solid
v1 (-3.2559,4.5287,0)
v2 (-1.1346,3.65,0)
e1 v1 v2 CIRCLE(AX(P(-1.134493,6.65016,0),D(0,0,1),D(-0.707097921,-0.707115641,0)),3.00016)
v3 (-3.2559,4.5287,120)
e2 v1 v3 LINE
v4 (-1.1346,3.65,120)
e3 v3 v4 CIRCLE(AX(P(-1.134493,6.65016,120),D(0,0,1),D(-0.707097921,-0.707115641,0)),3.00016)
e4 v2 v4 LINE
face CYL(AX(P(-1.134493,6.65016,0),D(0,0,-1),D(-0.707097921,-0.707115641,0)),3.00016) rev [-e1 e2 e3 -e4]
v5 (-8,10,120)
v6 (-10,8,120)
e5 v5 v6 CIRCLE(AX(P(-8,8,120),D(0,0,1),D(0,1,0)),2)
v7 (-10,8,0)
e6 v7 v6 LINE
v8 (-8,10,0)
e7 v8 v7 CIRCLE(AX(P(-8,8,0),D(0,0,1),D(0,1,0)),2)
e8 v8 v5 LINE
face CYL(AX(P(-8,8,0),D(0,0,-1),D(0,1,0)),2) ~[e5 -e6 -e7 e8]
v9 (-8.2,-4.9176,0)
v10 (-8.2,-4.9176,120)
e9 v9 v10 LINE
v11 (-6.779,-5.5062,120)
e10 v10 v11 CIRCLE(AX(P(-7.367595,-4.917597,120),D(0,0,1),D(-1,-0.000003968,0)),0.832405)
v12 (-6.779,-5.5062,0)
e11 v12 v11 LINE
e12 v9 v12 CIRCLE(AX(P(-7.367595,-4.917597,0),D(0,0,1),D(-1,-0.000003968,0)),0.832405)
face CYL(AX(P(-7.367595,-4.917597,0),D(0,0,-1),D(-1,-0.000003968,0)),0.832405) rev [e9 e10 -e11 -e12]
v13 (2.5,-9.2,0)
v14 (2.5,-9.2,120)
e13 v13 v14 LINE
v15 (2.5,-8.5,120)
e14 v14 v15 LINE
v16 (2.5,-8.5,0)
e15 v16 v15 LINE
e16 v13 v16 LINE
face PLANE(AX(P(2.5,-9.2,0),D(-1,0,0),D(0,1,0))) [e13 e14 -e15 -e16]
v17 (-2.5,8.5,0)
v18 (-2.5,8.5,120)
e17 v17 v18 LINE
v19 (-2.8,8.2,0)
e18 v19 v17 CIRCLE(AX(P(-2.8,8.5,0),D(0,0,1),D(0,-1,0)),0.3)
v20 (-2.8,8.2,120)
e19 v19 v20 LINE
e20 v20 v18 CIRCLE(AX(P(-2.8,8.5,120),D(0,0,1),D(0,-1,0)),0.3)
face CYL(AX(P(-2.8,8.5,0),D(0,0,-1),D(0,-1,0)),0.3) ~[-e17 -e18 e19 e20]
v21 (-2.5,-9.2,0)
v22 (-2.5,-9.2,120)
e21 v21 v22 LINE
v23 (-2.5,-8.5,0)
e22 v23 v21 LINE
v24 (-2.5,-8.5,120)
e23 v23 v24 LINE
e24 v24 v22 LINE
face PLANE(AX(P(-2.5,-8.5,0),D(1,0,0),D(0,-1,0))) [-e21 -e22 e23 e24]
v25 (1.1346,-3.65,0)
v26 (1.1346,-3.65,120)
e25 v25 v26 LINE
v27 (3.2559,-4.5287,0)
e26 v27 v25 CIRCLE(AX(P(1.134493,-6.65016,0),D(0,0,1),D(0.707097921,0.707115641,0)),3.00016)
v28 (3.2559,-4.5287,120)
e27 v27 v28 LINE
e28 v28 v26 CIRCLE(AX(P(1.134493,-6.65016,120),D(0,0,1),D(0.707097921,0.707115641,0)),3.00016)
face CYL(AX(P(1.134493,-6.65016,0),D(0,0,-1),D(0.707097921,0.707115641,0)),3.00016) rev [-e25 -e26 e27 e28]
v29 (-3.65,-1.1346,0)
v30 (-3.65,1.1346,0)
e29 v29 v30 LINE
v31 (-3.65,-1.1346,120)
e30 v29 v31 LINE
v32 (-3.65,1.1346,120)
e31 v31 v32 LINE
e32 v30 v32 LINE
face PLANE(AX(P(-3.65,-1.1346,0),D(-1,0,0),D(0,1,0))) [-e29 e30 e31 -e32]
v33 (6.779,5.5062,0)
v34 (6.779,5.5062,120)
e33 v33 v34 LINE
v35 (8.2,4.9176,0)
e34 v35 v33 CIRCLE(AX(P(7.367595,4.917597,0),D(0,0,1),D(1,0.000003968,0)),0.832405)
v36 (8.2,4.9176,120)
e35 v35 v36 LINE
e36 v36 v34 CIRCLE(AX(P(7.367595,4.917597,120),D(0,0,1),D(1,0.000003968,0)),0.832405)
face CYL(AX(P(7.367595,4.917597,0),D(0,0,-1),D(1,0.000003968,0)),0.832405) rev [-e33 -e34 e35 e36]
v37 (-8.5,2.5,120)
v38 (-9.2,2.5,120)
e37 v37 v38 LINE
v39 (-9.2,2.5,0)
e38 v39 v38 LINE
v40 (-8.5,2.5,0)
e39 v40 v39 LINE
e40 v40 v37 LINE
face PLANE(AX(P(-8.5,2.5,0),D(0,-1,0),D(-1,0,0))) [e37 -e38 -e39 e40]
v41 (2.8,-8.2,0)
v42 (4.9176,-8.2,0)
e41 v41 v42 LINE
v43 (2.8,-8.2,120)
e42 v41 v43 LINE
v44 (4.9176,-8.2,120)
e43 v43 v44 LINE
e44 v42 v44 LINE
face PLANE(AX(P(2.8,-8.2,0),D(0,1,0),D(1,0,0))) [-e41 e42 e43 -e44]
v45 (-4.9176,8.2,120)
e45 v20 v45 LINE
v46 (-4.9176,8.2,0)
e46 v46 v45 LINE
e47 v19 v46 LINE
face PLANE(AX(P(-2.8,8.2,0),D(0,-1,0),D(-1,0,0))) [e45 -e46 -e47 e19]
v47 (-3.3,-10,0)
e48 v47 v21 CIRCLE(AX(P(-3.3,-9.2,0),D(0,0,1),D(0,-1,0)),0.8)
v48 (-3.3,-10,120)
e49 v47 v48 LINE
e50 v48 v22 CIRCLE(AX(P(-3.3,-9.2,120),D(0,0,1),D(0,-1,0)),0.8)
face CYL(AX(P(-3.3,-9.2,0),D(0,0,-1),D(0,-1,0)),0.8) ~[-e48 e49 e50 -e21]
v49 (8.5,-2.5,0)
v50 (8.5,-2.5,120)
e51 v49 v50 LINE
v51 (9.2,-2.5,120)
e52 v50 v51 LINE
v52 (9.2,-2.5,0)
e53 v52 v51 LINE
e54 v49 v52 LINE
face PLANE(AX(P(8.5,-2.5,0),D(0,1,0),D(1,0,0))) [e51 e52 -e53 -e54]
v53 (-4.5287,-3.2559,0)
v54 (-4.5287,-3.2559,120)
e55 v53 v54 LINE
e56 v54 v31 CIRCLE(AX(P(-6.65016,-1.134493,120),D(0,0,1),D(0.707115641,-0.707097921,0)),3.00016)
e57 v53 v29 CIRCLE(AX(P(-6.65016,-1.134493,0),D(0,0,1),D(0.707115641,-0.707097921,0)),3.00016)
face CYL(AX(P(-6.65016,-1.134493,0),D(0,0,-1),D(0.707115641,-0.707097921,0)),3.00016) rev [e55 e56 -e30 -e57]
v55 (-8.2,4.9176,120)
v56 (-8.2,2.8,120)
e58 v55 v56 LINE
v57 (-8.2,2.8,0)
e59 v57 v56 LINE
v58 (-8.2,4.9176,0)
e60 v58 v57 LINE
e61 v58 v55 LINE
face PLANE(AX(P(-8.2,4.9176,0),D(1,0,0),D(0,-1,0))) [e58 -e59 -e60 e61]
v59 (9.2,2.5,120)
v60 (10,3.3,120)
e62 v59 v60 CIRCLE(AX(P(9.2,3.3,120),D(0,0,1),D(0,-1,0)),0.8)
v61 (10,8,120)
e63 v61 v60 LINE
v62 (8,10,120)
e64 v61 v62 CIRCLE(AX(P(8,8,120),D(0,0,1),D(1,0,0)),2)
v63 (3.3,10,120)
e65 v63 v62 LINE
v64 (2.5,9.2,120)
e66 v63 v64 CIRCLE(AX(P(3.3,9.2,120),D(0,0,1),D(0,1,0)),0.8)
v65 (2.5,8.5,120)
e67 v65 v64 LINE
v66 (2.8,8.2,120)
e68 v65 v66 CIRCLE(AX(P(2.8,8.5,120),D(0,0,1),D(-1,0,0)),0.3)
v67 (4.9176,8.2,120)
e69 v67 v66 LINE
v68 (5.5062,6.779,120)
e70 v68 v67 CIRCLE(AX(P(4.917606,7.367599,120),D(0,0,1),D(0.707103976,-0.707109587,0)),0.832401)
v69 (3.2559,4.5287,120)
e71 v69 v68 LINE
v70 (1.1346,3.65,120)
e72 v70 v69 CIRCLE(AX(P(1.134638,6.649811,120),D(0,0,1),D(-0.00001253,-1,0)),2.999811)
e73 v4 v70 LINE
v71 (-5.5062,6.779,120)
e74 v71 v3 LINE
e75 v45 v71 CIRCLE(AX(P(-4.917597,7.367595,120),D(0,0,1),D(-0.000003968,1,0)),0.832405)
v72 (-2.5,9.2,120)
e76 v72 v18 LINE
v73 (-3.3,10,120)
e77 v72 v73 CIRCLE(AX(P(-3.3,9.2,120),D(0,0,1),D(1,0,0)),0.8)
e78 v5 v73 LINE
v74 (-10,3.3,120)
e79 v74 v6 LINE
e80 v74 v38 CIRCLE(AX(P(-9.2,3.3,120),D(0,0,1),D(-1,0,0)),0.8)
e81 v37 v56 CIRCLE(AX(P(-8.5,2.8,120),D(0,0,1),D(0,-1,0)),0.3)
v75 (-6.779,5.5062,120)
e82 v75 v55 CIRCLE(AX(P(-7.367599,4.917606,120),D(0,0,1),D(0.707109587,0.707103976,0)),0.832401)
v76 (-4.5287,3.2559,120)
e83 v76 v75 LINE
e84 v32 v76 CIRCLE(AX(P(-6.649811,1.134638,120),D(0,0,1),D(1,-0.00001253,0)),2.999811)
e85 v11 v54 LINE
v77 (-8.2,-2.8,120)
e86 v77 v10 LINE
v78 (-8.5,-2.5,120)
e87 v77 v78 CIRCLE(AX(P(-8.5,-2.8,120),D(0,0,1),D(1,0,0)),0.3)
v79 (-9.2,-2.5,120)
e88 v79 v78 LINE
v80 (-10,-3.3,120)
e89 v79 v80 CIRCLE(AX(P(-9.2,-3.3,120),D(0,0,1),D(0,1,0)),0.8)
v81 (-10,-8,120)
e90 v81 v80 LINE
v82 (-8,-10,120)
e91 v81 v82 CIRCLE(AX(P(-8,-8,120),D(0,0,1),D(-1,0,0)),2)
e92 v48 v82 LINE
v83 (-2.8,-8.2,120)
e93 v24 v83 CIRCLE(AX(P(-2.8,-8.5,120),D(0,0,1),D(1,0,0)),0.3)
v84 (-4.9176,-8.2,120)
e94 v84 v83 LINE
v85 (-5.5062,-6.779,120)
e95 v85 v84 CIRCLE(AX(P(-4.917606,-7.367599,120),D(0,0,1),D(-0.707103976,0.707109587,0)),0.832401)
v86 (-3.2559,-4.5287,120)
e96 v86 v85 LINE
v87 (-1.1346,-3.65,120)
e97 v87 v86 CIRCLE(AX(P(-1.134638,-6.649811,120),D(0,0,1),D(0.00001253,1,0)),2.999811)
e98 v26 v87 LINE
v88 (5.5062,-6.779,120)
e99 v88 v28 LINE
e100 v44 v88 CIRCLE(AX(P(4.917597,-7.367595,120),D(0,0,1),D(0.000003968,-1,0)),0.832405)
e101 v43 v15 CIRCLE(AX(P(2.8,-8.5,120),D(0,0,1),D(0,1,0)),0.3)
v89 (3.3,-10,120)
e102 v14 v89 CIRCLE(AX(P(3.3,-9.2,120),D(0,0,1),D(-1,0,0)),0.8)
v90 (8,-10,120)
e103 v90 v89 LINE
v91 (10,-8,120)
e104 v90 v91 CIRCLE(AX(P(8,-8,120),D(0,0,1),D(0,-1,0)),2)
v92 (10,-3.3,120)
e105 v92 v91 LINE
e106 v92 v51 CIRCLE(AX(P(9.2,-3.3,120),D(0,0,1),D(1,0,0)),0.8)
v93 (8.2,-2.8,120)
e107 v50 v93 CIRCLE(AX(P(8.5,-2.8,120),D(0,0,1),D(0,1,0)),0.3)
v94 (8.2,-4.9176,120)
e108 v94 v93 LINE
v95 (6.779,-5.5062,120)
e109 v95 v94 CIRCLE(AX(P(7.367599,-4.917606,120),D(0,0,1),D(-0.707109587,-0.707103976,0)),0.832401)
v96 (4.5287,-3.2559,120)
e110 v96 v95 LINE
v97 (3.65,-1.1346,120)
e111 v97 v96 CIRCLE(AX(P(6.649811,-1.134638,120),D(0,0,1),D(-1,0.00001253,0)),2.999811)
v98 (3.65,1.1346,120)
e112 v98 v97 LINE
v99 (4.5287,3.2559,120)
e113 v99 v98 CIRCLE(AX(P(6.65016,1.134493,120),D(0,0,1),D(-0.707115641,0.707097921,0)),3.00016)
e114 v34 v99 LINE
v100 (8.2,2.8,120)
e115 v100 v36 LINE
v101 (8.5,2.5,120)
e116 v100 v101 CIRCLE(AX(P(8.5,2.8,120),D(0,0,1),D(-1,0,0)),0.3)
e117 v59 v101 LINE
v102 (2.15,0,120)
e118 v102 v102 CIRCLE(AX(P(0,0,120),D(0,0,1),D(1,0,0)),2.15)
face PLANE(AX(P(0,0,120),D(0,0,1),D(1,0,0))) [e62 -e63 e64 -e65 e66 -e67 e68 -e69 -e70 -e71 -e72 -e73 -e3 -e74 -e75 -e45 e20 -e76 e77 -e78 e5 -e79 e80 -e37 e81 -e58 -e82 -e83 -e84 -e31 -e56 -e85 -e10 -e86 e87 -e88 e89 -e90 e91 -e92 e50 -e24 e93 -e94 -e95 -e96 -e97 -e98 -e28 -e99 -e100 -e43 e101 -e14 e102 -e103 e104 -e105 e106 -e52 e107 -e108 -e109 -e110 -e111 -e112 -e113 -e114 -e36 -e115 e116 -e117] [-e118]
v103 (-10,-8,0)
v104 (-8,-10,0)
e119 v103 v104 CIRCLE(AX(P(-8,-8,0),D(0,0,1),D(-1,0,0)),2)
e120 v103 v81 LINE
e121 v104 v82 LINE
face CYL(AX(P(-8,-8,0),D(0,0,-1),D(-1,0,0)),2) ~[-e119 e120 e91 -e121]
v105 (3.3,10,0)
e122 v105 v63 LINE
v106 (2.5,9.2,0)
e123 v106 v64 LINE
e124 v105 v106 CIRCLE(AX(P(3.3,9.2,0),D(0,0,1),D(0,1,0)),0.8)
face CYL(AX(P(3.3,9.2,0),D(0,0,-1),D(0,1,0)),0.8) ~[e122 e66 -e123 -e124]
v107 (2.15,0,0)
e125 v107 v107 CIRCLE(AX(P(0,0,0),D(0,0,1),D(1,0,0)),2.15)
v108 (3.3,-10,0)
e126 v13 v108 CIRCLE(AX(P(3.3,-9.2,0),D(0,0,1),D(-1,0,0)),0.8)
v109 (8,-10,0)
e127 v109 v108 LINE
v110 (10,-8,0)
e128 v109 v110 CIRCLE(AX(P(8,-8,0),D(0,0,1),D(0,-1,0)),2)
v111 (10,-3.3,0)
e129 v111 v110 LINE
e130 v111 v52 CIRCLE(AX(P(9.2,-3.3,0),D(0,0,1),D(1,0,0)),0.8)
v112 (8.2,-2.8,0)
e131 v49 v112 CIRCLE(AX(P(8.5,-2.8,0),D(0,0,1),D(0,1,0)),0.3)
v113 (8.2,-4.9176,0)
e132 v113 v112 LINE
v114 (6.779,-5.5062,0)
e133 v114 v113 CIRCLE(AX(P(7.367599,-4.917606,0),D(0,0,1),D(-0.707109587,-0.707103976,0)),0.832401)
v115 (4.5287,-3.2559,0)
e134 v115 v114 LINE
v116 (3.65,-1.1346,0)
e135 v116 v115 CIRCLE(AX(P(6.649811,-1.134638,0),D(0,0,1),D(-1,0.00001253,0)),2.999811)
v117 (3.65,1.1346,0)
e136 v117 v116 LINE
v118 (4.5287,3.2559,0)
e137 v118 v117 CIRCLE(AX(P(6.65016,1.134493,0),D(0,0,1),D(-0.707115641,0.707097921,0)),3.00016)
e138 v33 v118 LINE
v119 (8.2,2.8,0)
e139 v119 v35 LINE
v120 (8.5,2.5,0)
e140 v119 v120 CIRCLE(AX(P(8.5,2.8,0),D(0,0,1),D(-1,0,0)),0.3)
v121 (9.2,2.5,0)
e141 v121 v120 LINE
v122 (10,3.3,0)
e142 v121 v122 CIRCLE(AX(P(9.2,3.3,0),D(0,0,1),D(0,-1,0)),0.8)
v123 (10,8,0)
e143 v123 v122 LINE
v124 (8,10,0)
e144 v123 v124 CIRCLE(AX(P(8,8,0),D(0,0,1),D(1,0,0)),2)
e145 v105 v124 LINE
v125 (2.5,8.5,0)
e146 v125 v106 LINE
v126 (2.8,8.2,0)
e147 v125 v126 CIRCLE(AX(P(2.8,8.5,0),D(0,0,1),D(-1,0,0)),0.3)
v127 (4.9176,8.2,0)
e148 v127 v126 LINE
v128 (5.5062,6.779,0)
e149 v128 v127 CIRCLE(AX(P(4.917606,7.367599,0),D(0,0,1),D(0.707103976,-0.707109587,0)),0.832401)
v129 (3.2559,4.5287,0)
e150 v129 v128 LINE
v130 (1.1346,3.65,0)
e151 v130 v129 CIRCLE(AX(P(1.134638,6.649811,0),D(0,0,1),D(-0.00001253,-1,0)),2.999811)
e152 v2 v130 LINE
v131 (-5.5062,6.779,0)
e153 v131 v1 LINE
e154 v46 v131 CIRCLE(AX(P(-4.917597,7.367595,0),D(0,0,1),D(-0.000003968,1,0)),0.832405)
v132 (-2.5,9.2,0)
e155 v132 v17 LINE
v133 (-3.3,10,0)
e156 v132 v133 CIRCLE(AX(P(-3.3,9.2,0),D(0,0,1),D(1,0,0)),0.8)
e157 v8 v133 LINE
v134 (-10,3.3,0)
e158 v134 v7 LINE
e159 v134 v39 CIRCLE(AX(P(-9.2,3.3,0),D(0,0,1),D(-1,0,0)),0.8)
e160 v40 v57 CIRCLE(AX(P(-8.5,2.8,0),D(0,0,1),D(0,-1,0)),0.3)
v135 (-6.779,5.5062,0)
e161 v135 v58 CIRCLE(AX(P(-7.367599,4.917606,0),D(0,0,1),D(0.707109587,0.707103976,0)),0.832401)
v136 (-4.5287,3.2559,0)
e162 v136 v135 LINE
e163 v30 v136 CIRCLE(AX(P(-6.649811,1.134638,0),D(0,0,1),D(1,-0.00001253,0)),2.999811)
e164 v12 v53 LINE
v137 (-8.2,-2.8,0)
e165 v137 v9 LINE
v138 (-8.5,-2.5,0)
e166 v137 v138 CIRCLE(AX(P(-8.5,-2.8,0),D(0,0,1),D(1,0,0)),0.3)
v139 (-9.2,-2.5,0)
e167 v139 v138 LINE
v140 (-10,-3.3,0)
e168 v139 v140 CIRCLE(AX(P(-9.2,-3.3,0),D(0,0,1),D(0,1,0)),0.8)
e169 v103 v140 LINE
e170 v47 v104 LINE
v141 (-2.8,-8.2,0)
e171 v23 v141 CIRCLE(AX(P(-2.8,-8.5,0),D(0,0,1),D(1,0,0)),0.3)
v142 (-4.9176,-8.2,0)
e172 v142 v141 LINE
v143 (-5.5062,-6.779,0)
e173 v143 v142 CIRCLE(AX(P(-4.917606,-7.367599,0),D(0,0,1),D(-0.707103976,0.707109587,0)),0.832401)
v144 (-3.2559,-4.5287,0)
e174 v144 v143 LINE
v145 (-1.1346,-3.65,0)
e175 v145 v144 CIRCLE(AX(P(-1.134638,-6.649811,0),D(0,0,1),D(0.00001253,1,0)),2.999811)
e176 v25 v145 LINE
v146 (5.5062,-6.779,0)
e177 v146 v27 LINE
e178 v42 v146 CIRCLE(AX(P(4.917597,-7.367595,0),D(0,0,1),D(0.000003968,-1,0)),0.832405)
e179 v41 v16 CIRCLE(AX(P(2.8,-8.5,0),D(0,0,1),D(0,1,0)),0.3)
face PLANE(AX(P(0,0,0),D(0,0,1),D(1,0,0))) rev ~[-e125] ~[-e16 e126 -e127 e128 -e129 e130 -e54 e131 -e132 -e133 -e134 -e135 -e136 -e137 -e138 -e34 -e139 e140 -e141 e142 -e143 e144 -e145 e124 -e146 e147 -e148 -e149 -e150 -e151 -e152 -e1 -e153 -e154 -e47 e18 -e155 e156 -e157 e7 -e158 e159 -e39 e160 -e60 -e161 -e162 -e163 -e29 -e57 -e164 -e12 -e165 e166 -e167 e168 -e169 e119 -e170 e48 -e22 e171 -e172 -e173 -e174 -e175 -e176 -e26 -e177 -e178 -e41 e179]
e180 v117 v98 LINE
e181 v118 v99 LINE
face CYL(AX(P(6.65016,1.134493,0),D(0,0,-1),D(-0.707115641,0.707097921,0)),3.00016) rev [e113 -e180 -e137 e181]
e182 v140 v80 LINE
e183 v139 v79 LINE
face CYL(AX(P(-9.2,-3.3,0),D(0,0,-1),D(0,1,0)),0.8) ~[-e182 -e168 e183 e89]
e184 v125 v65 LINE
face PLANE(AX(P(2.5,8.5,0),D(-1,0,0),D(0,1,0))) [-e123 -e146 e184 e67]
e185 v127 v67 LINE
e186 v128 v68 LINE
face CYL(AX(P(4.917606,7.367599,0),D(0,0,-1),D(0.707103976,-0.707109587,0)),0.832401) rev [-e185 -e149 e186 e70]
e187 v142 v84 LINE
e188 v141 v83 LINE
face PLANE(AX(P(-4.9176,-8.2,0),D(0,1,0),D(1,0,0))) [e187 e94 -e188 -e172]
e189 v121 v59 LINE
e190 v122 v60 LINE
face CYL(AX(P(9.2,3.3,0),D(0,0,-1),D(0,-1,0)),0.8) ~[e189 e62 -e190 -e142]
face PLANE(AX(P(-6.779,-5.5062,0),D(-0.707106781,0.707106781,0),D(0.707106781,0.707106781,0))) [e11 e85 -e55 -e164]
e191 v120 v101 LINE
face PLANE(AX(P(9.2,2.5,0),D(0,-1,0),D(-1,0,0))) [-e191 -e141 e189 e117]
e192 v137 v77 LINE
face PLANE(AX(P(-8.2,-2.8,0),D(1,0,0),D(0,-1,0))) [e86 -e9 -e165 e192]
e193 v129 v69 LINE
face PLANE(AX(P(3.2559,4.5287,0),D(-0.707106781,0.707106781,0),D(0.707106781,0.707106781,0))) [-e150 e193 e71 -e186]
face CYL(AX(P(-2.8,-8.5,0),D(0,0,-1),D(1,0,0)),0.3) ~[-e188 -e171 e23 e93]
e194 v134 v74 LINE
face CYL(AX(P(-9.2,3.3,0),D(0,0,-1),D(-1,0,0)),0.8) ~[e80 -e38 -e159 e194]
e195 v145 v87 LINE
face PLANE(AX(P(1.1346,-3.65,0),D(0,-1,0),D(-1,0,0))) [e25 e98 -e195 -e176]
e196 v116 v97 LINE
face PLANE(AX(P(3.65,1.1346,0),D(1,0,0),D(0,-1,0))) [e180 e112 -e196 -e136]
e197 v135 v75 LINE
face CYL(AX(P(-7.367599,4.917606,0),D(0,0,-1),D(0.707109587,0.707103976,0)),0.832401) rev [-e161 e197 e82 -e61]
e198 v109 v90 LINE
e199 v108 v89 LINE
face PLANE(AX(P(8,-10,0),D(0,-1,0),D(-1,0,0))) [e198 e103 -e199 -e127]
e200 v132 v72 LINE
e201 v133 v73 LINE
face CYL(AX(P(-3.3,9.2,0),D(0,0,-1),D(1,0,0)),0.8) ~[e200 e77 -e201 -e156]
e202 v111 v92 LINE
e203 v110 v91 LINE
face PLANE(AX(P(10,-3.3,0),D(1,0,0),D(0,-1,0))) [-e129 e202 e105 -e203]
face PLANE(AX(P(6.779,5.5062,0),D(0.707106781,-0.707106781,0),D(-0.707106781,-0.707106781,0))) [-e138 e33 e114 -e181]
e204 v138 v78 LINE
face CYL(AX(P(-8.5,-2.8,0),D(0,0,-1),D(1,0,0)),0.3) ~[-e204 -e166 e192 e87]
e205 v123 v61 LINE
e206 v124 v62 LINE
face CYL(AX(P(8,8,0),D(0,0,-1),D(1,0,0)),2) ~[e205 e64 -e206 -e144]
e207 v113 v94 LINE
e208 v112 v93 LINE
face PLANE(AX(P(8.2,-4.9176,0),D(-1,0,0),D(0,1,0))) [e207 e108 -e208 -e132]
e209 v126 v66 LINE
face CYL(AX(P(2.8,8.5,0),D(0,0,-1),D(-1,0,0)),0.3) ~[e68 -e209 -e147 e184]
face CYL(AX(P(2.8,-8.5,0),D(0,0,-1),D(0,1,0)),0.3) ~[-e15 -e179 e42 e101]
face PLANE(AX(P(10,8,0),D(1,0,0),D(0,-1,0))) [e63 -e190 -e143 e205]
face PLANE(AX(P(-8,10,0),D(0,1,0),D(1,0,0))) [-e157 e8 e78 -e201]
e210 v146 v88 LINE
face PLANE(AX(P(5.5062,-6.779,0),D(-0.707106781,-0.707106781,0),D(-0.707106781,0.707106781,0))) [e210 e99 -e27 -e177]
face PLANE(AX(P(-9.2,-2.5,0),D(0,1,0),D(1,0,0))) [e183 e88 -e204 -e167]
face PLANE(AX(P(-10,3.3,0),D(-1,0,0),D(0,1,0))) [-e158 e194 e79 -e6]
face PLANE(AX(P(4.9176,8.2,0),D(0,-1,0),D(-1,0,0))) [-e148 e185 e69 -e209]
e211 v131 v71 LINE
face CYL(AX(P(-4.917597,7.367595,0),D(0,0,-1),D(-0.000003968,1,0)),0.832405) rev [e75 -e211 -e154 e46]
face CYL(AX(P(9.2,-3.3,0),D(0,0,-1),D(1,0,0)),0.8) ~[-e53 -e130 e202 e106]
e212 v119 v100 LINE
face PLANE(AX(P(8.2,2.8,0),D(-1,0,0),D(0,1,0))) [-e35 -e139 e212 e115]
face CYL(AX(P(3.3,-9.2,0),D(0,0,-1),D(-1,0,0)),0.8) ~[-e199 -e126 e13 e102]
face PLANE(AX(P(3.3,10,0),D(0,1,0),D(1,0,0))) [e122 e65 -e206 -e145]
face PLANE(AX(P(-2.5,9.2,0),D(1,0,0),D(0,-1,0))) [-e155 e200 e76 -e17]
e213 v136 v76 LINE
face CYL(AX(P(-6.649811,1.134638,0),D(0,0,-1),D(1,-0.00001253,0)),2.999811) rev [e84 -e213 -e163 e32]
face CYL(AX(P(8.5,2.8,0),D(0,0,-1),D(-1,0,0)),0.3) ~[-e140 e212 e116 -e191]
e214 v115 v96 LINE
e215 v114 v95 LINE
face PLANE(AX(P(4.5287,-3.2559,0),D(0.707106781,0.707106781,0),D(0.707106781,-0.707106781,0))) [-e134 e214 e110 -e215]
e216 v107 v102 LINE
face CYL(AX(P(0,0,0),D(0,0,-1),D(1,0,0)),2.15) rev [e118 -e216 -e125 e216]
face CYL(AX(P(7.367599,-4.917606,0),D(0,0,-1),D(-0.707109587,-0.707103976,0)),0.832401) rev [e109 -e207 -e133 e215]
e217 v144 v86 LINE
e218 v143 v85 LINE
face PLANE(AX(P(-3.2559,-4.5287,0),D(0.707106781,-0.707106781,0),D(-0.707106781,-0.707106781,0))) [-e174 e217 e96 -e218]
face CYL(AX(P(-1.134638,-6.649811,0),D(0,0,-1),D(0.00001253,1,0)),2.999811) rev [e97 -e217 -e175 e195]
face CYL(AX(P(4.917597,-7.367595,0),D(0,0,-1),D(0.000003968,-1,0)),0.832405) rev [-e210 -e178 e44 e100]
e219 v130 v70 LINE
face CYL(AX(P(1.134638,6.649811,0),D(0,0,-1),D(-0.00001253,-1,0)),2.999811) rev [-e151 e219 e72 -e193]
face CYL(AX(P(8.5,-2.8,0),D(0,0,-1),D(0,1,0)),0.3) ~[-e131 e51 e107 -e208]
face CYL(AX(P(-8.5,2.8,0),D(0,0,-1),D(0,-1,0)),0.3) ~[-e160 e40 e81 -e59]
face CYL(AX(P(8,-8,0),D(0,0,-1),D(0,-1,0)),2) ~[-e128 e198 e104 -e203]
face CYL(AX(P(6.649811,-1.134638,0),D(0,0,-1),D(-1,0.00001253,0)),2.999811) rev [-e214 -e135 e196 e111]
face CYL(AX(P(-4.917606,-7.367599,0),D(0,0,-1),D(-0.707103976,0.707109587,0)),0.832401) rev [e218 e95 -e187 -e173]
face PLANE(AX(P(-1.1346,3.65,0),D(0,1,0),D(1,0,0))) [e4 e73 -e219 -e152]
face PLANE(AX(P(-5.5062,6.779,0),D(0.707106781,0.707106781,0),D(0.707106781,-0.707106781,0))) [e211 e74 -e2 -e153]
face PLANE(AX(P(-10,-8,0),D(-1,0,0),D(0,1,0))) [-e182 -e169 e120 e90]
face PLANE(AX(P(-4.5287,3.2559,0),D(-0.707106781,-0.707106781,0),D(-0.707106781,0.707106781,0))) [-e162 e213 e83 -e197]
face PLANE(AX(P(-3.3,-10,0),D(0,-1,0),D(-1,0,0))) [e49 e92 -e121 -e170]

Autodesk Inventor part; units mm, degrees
ref_plane "YZ Plane" through (0, 0, 0) normal (1, 0, 0) x (0, 1, 0)
ref_plane "Startebene" through (0, 0, 0) normal (0, 0, 1) x (1, 0, 0)
ref_plane "Endebene" through (0, 0, 120) normal (0, 0, 1) x (1, 0, 0)
sketch "Skizze" plane through (0, 0, 0) normal (0, 0, 1) x (1, 0, 0)
  arc A0 (-4.5287, -3.2559) -> (-3.65, -1.1346) centre (-6.65, -1.1346) ccw
  line L0 (-3.65, -1.1346) -> (-3.65, 1.1346)
  circle A1 centre (0, 0) radius 2.15
  line L1 (1.1346, -3.65) -> (-1.1346, -3.65)
  arc A2 (-1.1346, -3.65) -> (-3.2559, -4.5287) centre (-1.1346, -6.65) ccw
  line L2 (-6.779, -5.5062) -> (-4.5287, -3.2559)
  line L3 (-3.2559, -4.5287) -> (-5.5062, -6.779)
  arc A3 (-2.5, -8.5) -> (-2.8, -8.2) centre (-2.8, -8.5) ccw
  line L4 (-2.5, -8.5) -> (-2.5, -9.2)
  line L5 (-4.9176, -8.2) -> (-2.8, -8.2)
  arc A4 (-5.5062, -6.779) -> (-4.9176, -8.2) centre (-4.9176, -7.3676) ccw
  arc A5 (-3.3, -10) -> (-2.5, -9.2) centre (-3.3, -9.2) ccw
  line L6 (-3.3, -10) -> (-8, -10)
  line L7 (10, -3.3) -> (10, -8)
  line L8 (5.5062, -6.779) -> (3.2559, -4.5287)
  arc A6 (6.779, -5.5062) -> (8.2, -4.9176) centre (7.3676, -4.9176) ccw
  arc A7 (3.2559, -4.5287) -> (1.1346, -3.65) centre (1.1346, -6.65) ccw
  line L9 (4.5287, -3.2559) -> (6.779, -5.5062)
  arc A8 (3.65, -1.1346) -> (4.5287, -3.2559) centre (6.65, -1.1346) ccw
  arc A9 (8.5, -2.5) -> (8.2, -2.8) centre (8.5, -2.8) ccw
  line L10 (3.65, 1.1346) -> (3.65, -1.1346)
  line L11 (8.5, -2.5) -> (9.2, -2.5)
  arc A10 (10, -3.3) -> (9.2, -2.5) centre (9.2, -3.3) ccw
  line L12 (8.2, -4.9176) -> (8.2, -2.8)
  line L13 (2.5, 8.5) -> (2.5, 9.2)
  arc A11 (2.5, 8.5) -> (2.8, 8.2) centre (2.8, 8.5) ccw
  arc A12 (1.1346, 3.65) -> (3.2559, 4.5287) centre (1.1346, 6.65) ccw
  line L14 (-1.1346, 3.65) -> (1.1346, 3.65)
  arc A13 (3.3, 10) -> (2.5, 9.2) centre (3.3, 9.2) ccw
  line L15 (4.9176, 8.2) -> (2.8, 8.2)
  arc A14 (4.5287, 3.2559) -> (3.65, 1.1346) centre (6.65, 1.1346) ccw
  line L16 (3.2559, 4.5287) -> (5.5062, 6.779)
  arc A15 (5.5062, 6.779) -> (4.9176, 8.2) centre (4.9176, 7.3676) ccw
  line L17 (6.779, 5.5062) -> (4.5287, 3.2559)
  line L18 (3.3, 10) -> (8, 10)
  arc A16 (10, 8) -> (8, 10) centre (8, 8) ccw
  line L19 (8.2, 2.8) -> (8.2, 4.9176)
  line L20 (10, 8) -> (10, 3.3)
  arc A17 (8.2, 4.9176) -> (6.779, 5.5062) centre (7.3676, 4.9176) ccw
  line L21 (-2.8, 8.2) -> (-4.9176, 8.2)
  line L22 (-2.5, 9.2) -> (-2.5, 8.5)
  arc A18 (-2.5, 9.2) -> (-3.3, 10) centre (-3.3, 9.2) ccw
  arc A19 (-2.8, 8.2) -> (-2.5, 8.5) centre (-2.8, 8.5) ccw
  arc A20 (-3.65, 1.1346) -> (-4.5287, 3.2559) centre (-6.65, 1.1346) ccw
  arc A21 (-3.2559, 4.5287) -> (-1.1346, 3.65) centre (-1.1346, 6.65) ccw
  arc A22 (4.9176, -8.2) -> (5.5062, -6.779) centre (4.9176, -7.3676) ccw
  arc A23 (8, -10) -> (10, -8) centre (8, -8) ccw
  line L23 (2.8, -8.2) -> (4.9176, -8.2)
  line L24 (8, -10) -> (3.3, -10)
  arc A24 (2.8, -8.2) -> (2.5, -8.5) centre (2.8, -8.5) ccw
  arc A25 (2.5, -9.2) -> (3.3, -10) centre (3.3, -9.2) ccw
  line L25 (2.5, -9.2) -> (2.5, -8.5)
  arc A26 (8.2, 2.8) -> (8.5, 2.5) centre (8.5, 2.8) ccw
  line L26 (9.2, 2.5) -> (8.5, 2.5)
  arc A27 (9.2, 2.5) -> (10, 3.3) centre (9.2, 3.3) ccw
  arc A28 (-4.9176, 8.2) -> (-5.5062, 6.779) centre (-4.9176, 7.3676) ccw
  line L27 (-8, 10) -> (-3.3, 10)
  line L28 (-5.5062, 6.779) -> (-3.2559, 4.5287)
  arc A29 (-8, 10) -> (-10, 8) centre (-8, 8) ccw
  arc A30 (-6.779, 5.5062) -> (-8.2, 4.9176) centre (-7.3676, 4.9176) ccw
  line L29 (-10, 3.3) -> (-10, 8)
  line L30 (-8.2, 4.9176) -> (-8.2, 2.8)
  arc A31 (-8.5, 2.5) -> (-8.2, 2.8) centre (-8.5, 2.8) ccw
  line L31 (-8.5, 2.5) -> (-9.2, 2.5)
  arc A32 (-10, 3.3) -> (-9.2, 2.5) centre (-9.2, 3.3) ccw
  line L32 (-4.5287, 3.2559) -> (-6.779, 5.5062)
  line L33 (-10, -8) -> (-10, -3.3)
  arc A33 (-8.2, -4.9176) -> (-6.779, -5.5062) centre (-7.3676, -4.9176) ccw
  arc A34 (-10, -8) -> (-8, -10) centre (-8, -8) ccw
  line L34 (-10, -8) -> (-10, -3.3)
  arc A35 (-8.2, -2.8) -> (-8.5, -2.5) centre (-8.5, -2.8) ccw
  line L35 (-9.2, -2.5) -> (-8.5, -2.5)
  arc A36 (-9.2, -2.5) -> (-10, -3.3) centre (-9.2, -3.3) ccw
  line L36 (-8.2, -2.8) -> (-8.2, -4.9176)
  dimension "d4" = 4.3
  dimension "d5" = 6.35
  dimension "d6" = 10
  dimension "d7" = 2.5
  dimension "d8" = 5.8
  dimension "d9" = 10.5
  dimension "d10" = 3
  dimension "d11" = 7.5
  dimension "d12" = 12.5
  dimension "d13" = 13.65
  dimension "d14" = 5.7
  dimension "d15" = 10.7
  dimension "d16" = 1.15
  dimension "d17" = 6.15
  dimension "d18" = 1.8
  dimension "d19" = 0.8
  dimension "d20" = 0.3
  dimension "d21" = 2
  dimension "d22" = 0.8324
  dimension "d23" = 45
  dimension "d24" = 90
  dimension "d25" = 90
  dimension "d26" = 1.8
  dimension "d27" = 18.2
  dimension "d28" = 20
  dimension "d29" = 5
  dimension "d30" = 7.5
  dimension "d31" = 1.8
  dimension "d32" = 0.9
  dimension "d33" = 0.9
  dimension "d34" = 20
extrude "Körper" add sketch "Skizze" along normal up to surface (120 mm away) from surface at 0
sketch "Skizze6" plane through (0, 0, 0) normal (0, 0, 1) x (1, 0, 0)
  line L0 (0, 0) -> (10, 0)
ref_plane "Arbeitsebene4" through (0, 0, 0) normal (0, -1, 0) x (1, 0, 0)
sketch "Skizze7" plane through (0, 0, 0) normal (0, -1, 0) x (1, 0, 0)
  line L0 (-2, 0) -> (12, 0)
  line L1 (-2, 120) -> (12, 120)
  dimension "d43" = 120
equation "\"G_OFFSET_START\" = 0"
equation "\"G_OFFSET_END\" = 0"
equation "\"G_L\" = d43"
properties part number "BT001_trajan20_22"
